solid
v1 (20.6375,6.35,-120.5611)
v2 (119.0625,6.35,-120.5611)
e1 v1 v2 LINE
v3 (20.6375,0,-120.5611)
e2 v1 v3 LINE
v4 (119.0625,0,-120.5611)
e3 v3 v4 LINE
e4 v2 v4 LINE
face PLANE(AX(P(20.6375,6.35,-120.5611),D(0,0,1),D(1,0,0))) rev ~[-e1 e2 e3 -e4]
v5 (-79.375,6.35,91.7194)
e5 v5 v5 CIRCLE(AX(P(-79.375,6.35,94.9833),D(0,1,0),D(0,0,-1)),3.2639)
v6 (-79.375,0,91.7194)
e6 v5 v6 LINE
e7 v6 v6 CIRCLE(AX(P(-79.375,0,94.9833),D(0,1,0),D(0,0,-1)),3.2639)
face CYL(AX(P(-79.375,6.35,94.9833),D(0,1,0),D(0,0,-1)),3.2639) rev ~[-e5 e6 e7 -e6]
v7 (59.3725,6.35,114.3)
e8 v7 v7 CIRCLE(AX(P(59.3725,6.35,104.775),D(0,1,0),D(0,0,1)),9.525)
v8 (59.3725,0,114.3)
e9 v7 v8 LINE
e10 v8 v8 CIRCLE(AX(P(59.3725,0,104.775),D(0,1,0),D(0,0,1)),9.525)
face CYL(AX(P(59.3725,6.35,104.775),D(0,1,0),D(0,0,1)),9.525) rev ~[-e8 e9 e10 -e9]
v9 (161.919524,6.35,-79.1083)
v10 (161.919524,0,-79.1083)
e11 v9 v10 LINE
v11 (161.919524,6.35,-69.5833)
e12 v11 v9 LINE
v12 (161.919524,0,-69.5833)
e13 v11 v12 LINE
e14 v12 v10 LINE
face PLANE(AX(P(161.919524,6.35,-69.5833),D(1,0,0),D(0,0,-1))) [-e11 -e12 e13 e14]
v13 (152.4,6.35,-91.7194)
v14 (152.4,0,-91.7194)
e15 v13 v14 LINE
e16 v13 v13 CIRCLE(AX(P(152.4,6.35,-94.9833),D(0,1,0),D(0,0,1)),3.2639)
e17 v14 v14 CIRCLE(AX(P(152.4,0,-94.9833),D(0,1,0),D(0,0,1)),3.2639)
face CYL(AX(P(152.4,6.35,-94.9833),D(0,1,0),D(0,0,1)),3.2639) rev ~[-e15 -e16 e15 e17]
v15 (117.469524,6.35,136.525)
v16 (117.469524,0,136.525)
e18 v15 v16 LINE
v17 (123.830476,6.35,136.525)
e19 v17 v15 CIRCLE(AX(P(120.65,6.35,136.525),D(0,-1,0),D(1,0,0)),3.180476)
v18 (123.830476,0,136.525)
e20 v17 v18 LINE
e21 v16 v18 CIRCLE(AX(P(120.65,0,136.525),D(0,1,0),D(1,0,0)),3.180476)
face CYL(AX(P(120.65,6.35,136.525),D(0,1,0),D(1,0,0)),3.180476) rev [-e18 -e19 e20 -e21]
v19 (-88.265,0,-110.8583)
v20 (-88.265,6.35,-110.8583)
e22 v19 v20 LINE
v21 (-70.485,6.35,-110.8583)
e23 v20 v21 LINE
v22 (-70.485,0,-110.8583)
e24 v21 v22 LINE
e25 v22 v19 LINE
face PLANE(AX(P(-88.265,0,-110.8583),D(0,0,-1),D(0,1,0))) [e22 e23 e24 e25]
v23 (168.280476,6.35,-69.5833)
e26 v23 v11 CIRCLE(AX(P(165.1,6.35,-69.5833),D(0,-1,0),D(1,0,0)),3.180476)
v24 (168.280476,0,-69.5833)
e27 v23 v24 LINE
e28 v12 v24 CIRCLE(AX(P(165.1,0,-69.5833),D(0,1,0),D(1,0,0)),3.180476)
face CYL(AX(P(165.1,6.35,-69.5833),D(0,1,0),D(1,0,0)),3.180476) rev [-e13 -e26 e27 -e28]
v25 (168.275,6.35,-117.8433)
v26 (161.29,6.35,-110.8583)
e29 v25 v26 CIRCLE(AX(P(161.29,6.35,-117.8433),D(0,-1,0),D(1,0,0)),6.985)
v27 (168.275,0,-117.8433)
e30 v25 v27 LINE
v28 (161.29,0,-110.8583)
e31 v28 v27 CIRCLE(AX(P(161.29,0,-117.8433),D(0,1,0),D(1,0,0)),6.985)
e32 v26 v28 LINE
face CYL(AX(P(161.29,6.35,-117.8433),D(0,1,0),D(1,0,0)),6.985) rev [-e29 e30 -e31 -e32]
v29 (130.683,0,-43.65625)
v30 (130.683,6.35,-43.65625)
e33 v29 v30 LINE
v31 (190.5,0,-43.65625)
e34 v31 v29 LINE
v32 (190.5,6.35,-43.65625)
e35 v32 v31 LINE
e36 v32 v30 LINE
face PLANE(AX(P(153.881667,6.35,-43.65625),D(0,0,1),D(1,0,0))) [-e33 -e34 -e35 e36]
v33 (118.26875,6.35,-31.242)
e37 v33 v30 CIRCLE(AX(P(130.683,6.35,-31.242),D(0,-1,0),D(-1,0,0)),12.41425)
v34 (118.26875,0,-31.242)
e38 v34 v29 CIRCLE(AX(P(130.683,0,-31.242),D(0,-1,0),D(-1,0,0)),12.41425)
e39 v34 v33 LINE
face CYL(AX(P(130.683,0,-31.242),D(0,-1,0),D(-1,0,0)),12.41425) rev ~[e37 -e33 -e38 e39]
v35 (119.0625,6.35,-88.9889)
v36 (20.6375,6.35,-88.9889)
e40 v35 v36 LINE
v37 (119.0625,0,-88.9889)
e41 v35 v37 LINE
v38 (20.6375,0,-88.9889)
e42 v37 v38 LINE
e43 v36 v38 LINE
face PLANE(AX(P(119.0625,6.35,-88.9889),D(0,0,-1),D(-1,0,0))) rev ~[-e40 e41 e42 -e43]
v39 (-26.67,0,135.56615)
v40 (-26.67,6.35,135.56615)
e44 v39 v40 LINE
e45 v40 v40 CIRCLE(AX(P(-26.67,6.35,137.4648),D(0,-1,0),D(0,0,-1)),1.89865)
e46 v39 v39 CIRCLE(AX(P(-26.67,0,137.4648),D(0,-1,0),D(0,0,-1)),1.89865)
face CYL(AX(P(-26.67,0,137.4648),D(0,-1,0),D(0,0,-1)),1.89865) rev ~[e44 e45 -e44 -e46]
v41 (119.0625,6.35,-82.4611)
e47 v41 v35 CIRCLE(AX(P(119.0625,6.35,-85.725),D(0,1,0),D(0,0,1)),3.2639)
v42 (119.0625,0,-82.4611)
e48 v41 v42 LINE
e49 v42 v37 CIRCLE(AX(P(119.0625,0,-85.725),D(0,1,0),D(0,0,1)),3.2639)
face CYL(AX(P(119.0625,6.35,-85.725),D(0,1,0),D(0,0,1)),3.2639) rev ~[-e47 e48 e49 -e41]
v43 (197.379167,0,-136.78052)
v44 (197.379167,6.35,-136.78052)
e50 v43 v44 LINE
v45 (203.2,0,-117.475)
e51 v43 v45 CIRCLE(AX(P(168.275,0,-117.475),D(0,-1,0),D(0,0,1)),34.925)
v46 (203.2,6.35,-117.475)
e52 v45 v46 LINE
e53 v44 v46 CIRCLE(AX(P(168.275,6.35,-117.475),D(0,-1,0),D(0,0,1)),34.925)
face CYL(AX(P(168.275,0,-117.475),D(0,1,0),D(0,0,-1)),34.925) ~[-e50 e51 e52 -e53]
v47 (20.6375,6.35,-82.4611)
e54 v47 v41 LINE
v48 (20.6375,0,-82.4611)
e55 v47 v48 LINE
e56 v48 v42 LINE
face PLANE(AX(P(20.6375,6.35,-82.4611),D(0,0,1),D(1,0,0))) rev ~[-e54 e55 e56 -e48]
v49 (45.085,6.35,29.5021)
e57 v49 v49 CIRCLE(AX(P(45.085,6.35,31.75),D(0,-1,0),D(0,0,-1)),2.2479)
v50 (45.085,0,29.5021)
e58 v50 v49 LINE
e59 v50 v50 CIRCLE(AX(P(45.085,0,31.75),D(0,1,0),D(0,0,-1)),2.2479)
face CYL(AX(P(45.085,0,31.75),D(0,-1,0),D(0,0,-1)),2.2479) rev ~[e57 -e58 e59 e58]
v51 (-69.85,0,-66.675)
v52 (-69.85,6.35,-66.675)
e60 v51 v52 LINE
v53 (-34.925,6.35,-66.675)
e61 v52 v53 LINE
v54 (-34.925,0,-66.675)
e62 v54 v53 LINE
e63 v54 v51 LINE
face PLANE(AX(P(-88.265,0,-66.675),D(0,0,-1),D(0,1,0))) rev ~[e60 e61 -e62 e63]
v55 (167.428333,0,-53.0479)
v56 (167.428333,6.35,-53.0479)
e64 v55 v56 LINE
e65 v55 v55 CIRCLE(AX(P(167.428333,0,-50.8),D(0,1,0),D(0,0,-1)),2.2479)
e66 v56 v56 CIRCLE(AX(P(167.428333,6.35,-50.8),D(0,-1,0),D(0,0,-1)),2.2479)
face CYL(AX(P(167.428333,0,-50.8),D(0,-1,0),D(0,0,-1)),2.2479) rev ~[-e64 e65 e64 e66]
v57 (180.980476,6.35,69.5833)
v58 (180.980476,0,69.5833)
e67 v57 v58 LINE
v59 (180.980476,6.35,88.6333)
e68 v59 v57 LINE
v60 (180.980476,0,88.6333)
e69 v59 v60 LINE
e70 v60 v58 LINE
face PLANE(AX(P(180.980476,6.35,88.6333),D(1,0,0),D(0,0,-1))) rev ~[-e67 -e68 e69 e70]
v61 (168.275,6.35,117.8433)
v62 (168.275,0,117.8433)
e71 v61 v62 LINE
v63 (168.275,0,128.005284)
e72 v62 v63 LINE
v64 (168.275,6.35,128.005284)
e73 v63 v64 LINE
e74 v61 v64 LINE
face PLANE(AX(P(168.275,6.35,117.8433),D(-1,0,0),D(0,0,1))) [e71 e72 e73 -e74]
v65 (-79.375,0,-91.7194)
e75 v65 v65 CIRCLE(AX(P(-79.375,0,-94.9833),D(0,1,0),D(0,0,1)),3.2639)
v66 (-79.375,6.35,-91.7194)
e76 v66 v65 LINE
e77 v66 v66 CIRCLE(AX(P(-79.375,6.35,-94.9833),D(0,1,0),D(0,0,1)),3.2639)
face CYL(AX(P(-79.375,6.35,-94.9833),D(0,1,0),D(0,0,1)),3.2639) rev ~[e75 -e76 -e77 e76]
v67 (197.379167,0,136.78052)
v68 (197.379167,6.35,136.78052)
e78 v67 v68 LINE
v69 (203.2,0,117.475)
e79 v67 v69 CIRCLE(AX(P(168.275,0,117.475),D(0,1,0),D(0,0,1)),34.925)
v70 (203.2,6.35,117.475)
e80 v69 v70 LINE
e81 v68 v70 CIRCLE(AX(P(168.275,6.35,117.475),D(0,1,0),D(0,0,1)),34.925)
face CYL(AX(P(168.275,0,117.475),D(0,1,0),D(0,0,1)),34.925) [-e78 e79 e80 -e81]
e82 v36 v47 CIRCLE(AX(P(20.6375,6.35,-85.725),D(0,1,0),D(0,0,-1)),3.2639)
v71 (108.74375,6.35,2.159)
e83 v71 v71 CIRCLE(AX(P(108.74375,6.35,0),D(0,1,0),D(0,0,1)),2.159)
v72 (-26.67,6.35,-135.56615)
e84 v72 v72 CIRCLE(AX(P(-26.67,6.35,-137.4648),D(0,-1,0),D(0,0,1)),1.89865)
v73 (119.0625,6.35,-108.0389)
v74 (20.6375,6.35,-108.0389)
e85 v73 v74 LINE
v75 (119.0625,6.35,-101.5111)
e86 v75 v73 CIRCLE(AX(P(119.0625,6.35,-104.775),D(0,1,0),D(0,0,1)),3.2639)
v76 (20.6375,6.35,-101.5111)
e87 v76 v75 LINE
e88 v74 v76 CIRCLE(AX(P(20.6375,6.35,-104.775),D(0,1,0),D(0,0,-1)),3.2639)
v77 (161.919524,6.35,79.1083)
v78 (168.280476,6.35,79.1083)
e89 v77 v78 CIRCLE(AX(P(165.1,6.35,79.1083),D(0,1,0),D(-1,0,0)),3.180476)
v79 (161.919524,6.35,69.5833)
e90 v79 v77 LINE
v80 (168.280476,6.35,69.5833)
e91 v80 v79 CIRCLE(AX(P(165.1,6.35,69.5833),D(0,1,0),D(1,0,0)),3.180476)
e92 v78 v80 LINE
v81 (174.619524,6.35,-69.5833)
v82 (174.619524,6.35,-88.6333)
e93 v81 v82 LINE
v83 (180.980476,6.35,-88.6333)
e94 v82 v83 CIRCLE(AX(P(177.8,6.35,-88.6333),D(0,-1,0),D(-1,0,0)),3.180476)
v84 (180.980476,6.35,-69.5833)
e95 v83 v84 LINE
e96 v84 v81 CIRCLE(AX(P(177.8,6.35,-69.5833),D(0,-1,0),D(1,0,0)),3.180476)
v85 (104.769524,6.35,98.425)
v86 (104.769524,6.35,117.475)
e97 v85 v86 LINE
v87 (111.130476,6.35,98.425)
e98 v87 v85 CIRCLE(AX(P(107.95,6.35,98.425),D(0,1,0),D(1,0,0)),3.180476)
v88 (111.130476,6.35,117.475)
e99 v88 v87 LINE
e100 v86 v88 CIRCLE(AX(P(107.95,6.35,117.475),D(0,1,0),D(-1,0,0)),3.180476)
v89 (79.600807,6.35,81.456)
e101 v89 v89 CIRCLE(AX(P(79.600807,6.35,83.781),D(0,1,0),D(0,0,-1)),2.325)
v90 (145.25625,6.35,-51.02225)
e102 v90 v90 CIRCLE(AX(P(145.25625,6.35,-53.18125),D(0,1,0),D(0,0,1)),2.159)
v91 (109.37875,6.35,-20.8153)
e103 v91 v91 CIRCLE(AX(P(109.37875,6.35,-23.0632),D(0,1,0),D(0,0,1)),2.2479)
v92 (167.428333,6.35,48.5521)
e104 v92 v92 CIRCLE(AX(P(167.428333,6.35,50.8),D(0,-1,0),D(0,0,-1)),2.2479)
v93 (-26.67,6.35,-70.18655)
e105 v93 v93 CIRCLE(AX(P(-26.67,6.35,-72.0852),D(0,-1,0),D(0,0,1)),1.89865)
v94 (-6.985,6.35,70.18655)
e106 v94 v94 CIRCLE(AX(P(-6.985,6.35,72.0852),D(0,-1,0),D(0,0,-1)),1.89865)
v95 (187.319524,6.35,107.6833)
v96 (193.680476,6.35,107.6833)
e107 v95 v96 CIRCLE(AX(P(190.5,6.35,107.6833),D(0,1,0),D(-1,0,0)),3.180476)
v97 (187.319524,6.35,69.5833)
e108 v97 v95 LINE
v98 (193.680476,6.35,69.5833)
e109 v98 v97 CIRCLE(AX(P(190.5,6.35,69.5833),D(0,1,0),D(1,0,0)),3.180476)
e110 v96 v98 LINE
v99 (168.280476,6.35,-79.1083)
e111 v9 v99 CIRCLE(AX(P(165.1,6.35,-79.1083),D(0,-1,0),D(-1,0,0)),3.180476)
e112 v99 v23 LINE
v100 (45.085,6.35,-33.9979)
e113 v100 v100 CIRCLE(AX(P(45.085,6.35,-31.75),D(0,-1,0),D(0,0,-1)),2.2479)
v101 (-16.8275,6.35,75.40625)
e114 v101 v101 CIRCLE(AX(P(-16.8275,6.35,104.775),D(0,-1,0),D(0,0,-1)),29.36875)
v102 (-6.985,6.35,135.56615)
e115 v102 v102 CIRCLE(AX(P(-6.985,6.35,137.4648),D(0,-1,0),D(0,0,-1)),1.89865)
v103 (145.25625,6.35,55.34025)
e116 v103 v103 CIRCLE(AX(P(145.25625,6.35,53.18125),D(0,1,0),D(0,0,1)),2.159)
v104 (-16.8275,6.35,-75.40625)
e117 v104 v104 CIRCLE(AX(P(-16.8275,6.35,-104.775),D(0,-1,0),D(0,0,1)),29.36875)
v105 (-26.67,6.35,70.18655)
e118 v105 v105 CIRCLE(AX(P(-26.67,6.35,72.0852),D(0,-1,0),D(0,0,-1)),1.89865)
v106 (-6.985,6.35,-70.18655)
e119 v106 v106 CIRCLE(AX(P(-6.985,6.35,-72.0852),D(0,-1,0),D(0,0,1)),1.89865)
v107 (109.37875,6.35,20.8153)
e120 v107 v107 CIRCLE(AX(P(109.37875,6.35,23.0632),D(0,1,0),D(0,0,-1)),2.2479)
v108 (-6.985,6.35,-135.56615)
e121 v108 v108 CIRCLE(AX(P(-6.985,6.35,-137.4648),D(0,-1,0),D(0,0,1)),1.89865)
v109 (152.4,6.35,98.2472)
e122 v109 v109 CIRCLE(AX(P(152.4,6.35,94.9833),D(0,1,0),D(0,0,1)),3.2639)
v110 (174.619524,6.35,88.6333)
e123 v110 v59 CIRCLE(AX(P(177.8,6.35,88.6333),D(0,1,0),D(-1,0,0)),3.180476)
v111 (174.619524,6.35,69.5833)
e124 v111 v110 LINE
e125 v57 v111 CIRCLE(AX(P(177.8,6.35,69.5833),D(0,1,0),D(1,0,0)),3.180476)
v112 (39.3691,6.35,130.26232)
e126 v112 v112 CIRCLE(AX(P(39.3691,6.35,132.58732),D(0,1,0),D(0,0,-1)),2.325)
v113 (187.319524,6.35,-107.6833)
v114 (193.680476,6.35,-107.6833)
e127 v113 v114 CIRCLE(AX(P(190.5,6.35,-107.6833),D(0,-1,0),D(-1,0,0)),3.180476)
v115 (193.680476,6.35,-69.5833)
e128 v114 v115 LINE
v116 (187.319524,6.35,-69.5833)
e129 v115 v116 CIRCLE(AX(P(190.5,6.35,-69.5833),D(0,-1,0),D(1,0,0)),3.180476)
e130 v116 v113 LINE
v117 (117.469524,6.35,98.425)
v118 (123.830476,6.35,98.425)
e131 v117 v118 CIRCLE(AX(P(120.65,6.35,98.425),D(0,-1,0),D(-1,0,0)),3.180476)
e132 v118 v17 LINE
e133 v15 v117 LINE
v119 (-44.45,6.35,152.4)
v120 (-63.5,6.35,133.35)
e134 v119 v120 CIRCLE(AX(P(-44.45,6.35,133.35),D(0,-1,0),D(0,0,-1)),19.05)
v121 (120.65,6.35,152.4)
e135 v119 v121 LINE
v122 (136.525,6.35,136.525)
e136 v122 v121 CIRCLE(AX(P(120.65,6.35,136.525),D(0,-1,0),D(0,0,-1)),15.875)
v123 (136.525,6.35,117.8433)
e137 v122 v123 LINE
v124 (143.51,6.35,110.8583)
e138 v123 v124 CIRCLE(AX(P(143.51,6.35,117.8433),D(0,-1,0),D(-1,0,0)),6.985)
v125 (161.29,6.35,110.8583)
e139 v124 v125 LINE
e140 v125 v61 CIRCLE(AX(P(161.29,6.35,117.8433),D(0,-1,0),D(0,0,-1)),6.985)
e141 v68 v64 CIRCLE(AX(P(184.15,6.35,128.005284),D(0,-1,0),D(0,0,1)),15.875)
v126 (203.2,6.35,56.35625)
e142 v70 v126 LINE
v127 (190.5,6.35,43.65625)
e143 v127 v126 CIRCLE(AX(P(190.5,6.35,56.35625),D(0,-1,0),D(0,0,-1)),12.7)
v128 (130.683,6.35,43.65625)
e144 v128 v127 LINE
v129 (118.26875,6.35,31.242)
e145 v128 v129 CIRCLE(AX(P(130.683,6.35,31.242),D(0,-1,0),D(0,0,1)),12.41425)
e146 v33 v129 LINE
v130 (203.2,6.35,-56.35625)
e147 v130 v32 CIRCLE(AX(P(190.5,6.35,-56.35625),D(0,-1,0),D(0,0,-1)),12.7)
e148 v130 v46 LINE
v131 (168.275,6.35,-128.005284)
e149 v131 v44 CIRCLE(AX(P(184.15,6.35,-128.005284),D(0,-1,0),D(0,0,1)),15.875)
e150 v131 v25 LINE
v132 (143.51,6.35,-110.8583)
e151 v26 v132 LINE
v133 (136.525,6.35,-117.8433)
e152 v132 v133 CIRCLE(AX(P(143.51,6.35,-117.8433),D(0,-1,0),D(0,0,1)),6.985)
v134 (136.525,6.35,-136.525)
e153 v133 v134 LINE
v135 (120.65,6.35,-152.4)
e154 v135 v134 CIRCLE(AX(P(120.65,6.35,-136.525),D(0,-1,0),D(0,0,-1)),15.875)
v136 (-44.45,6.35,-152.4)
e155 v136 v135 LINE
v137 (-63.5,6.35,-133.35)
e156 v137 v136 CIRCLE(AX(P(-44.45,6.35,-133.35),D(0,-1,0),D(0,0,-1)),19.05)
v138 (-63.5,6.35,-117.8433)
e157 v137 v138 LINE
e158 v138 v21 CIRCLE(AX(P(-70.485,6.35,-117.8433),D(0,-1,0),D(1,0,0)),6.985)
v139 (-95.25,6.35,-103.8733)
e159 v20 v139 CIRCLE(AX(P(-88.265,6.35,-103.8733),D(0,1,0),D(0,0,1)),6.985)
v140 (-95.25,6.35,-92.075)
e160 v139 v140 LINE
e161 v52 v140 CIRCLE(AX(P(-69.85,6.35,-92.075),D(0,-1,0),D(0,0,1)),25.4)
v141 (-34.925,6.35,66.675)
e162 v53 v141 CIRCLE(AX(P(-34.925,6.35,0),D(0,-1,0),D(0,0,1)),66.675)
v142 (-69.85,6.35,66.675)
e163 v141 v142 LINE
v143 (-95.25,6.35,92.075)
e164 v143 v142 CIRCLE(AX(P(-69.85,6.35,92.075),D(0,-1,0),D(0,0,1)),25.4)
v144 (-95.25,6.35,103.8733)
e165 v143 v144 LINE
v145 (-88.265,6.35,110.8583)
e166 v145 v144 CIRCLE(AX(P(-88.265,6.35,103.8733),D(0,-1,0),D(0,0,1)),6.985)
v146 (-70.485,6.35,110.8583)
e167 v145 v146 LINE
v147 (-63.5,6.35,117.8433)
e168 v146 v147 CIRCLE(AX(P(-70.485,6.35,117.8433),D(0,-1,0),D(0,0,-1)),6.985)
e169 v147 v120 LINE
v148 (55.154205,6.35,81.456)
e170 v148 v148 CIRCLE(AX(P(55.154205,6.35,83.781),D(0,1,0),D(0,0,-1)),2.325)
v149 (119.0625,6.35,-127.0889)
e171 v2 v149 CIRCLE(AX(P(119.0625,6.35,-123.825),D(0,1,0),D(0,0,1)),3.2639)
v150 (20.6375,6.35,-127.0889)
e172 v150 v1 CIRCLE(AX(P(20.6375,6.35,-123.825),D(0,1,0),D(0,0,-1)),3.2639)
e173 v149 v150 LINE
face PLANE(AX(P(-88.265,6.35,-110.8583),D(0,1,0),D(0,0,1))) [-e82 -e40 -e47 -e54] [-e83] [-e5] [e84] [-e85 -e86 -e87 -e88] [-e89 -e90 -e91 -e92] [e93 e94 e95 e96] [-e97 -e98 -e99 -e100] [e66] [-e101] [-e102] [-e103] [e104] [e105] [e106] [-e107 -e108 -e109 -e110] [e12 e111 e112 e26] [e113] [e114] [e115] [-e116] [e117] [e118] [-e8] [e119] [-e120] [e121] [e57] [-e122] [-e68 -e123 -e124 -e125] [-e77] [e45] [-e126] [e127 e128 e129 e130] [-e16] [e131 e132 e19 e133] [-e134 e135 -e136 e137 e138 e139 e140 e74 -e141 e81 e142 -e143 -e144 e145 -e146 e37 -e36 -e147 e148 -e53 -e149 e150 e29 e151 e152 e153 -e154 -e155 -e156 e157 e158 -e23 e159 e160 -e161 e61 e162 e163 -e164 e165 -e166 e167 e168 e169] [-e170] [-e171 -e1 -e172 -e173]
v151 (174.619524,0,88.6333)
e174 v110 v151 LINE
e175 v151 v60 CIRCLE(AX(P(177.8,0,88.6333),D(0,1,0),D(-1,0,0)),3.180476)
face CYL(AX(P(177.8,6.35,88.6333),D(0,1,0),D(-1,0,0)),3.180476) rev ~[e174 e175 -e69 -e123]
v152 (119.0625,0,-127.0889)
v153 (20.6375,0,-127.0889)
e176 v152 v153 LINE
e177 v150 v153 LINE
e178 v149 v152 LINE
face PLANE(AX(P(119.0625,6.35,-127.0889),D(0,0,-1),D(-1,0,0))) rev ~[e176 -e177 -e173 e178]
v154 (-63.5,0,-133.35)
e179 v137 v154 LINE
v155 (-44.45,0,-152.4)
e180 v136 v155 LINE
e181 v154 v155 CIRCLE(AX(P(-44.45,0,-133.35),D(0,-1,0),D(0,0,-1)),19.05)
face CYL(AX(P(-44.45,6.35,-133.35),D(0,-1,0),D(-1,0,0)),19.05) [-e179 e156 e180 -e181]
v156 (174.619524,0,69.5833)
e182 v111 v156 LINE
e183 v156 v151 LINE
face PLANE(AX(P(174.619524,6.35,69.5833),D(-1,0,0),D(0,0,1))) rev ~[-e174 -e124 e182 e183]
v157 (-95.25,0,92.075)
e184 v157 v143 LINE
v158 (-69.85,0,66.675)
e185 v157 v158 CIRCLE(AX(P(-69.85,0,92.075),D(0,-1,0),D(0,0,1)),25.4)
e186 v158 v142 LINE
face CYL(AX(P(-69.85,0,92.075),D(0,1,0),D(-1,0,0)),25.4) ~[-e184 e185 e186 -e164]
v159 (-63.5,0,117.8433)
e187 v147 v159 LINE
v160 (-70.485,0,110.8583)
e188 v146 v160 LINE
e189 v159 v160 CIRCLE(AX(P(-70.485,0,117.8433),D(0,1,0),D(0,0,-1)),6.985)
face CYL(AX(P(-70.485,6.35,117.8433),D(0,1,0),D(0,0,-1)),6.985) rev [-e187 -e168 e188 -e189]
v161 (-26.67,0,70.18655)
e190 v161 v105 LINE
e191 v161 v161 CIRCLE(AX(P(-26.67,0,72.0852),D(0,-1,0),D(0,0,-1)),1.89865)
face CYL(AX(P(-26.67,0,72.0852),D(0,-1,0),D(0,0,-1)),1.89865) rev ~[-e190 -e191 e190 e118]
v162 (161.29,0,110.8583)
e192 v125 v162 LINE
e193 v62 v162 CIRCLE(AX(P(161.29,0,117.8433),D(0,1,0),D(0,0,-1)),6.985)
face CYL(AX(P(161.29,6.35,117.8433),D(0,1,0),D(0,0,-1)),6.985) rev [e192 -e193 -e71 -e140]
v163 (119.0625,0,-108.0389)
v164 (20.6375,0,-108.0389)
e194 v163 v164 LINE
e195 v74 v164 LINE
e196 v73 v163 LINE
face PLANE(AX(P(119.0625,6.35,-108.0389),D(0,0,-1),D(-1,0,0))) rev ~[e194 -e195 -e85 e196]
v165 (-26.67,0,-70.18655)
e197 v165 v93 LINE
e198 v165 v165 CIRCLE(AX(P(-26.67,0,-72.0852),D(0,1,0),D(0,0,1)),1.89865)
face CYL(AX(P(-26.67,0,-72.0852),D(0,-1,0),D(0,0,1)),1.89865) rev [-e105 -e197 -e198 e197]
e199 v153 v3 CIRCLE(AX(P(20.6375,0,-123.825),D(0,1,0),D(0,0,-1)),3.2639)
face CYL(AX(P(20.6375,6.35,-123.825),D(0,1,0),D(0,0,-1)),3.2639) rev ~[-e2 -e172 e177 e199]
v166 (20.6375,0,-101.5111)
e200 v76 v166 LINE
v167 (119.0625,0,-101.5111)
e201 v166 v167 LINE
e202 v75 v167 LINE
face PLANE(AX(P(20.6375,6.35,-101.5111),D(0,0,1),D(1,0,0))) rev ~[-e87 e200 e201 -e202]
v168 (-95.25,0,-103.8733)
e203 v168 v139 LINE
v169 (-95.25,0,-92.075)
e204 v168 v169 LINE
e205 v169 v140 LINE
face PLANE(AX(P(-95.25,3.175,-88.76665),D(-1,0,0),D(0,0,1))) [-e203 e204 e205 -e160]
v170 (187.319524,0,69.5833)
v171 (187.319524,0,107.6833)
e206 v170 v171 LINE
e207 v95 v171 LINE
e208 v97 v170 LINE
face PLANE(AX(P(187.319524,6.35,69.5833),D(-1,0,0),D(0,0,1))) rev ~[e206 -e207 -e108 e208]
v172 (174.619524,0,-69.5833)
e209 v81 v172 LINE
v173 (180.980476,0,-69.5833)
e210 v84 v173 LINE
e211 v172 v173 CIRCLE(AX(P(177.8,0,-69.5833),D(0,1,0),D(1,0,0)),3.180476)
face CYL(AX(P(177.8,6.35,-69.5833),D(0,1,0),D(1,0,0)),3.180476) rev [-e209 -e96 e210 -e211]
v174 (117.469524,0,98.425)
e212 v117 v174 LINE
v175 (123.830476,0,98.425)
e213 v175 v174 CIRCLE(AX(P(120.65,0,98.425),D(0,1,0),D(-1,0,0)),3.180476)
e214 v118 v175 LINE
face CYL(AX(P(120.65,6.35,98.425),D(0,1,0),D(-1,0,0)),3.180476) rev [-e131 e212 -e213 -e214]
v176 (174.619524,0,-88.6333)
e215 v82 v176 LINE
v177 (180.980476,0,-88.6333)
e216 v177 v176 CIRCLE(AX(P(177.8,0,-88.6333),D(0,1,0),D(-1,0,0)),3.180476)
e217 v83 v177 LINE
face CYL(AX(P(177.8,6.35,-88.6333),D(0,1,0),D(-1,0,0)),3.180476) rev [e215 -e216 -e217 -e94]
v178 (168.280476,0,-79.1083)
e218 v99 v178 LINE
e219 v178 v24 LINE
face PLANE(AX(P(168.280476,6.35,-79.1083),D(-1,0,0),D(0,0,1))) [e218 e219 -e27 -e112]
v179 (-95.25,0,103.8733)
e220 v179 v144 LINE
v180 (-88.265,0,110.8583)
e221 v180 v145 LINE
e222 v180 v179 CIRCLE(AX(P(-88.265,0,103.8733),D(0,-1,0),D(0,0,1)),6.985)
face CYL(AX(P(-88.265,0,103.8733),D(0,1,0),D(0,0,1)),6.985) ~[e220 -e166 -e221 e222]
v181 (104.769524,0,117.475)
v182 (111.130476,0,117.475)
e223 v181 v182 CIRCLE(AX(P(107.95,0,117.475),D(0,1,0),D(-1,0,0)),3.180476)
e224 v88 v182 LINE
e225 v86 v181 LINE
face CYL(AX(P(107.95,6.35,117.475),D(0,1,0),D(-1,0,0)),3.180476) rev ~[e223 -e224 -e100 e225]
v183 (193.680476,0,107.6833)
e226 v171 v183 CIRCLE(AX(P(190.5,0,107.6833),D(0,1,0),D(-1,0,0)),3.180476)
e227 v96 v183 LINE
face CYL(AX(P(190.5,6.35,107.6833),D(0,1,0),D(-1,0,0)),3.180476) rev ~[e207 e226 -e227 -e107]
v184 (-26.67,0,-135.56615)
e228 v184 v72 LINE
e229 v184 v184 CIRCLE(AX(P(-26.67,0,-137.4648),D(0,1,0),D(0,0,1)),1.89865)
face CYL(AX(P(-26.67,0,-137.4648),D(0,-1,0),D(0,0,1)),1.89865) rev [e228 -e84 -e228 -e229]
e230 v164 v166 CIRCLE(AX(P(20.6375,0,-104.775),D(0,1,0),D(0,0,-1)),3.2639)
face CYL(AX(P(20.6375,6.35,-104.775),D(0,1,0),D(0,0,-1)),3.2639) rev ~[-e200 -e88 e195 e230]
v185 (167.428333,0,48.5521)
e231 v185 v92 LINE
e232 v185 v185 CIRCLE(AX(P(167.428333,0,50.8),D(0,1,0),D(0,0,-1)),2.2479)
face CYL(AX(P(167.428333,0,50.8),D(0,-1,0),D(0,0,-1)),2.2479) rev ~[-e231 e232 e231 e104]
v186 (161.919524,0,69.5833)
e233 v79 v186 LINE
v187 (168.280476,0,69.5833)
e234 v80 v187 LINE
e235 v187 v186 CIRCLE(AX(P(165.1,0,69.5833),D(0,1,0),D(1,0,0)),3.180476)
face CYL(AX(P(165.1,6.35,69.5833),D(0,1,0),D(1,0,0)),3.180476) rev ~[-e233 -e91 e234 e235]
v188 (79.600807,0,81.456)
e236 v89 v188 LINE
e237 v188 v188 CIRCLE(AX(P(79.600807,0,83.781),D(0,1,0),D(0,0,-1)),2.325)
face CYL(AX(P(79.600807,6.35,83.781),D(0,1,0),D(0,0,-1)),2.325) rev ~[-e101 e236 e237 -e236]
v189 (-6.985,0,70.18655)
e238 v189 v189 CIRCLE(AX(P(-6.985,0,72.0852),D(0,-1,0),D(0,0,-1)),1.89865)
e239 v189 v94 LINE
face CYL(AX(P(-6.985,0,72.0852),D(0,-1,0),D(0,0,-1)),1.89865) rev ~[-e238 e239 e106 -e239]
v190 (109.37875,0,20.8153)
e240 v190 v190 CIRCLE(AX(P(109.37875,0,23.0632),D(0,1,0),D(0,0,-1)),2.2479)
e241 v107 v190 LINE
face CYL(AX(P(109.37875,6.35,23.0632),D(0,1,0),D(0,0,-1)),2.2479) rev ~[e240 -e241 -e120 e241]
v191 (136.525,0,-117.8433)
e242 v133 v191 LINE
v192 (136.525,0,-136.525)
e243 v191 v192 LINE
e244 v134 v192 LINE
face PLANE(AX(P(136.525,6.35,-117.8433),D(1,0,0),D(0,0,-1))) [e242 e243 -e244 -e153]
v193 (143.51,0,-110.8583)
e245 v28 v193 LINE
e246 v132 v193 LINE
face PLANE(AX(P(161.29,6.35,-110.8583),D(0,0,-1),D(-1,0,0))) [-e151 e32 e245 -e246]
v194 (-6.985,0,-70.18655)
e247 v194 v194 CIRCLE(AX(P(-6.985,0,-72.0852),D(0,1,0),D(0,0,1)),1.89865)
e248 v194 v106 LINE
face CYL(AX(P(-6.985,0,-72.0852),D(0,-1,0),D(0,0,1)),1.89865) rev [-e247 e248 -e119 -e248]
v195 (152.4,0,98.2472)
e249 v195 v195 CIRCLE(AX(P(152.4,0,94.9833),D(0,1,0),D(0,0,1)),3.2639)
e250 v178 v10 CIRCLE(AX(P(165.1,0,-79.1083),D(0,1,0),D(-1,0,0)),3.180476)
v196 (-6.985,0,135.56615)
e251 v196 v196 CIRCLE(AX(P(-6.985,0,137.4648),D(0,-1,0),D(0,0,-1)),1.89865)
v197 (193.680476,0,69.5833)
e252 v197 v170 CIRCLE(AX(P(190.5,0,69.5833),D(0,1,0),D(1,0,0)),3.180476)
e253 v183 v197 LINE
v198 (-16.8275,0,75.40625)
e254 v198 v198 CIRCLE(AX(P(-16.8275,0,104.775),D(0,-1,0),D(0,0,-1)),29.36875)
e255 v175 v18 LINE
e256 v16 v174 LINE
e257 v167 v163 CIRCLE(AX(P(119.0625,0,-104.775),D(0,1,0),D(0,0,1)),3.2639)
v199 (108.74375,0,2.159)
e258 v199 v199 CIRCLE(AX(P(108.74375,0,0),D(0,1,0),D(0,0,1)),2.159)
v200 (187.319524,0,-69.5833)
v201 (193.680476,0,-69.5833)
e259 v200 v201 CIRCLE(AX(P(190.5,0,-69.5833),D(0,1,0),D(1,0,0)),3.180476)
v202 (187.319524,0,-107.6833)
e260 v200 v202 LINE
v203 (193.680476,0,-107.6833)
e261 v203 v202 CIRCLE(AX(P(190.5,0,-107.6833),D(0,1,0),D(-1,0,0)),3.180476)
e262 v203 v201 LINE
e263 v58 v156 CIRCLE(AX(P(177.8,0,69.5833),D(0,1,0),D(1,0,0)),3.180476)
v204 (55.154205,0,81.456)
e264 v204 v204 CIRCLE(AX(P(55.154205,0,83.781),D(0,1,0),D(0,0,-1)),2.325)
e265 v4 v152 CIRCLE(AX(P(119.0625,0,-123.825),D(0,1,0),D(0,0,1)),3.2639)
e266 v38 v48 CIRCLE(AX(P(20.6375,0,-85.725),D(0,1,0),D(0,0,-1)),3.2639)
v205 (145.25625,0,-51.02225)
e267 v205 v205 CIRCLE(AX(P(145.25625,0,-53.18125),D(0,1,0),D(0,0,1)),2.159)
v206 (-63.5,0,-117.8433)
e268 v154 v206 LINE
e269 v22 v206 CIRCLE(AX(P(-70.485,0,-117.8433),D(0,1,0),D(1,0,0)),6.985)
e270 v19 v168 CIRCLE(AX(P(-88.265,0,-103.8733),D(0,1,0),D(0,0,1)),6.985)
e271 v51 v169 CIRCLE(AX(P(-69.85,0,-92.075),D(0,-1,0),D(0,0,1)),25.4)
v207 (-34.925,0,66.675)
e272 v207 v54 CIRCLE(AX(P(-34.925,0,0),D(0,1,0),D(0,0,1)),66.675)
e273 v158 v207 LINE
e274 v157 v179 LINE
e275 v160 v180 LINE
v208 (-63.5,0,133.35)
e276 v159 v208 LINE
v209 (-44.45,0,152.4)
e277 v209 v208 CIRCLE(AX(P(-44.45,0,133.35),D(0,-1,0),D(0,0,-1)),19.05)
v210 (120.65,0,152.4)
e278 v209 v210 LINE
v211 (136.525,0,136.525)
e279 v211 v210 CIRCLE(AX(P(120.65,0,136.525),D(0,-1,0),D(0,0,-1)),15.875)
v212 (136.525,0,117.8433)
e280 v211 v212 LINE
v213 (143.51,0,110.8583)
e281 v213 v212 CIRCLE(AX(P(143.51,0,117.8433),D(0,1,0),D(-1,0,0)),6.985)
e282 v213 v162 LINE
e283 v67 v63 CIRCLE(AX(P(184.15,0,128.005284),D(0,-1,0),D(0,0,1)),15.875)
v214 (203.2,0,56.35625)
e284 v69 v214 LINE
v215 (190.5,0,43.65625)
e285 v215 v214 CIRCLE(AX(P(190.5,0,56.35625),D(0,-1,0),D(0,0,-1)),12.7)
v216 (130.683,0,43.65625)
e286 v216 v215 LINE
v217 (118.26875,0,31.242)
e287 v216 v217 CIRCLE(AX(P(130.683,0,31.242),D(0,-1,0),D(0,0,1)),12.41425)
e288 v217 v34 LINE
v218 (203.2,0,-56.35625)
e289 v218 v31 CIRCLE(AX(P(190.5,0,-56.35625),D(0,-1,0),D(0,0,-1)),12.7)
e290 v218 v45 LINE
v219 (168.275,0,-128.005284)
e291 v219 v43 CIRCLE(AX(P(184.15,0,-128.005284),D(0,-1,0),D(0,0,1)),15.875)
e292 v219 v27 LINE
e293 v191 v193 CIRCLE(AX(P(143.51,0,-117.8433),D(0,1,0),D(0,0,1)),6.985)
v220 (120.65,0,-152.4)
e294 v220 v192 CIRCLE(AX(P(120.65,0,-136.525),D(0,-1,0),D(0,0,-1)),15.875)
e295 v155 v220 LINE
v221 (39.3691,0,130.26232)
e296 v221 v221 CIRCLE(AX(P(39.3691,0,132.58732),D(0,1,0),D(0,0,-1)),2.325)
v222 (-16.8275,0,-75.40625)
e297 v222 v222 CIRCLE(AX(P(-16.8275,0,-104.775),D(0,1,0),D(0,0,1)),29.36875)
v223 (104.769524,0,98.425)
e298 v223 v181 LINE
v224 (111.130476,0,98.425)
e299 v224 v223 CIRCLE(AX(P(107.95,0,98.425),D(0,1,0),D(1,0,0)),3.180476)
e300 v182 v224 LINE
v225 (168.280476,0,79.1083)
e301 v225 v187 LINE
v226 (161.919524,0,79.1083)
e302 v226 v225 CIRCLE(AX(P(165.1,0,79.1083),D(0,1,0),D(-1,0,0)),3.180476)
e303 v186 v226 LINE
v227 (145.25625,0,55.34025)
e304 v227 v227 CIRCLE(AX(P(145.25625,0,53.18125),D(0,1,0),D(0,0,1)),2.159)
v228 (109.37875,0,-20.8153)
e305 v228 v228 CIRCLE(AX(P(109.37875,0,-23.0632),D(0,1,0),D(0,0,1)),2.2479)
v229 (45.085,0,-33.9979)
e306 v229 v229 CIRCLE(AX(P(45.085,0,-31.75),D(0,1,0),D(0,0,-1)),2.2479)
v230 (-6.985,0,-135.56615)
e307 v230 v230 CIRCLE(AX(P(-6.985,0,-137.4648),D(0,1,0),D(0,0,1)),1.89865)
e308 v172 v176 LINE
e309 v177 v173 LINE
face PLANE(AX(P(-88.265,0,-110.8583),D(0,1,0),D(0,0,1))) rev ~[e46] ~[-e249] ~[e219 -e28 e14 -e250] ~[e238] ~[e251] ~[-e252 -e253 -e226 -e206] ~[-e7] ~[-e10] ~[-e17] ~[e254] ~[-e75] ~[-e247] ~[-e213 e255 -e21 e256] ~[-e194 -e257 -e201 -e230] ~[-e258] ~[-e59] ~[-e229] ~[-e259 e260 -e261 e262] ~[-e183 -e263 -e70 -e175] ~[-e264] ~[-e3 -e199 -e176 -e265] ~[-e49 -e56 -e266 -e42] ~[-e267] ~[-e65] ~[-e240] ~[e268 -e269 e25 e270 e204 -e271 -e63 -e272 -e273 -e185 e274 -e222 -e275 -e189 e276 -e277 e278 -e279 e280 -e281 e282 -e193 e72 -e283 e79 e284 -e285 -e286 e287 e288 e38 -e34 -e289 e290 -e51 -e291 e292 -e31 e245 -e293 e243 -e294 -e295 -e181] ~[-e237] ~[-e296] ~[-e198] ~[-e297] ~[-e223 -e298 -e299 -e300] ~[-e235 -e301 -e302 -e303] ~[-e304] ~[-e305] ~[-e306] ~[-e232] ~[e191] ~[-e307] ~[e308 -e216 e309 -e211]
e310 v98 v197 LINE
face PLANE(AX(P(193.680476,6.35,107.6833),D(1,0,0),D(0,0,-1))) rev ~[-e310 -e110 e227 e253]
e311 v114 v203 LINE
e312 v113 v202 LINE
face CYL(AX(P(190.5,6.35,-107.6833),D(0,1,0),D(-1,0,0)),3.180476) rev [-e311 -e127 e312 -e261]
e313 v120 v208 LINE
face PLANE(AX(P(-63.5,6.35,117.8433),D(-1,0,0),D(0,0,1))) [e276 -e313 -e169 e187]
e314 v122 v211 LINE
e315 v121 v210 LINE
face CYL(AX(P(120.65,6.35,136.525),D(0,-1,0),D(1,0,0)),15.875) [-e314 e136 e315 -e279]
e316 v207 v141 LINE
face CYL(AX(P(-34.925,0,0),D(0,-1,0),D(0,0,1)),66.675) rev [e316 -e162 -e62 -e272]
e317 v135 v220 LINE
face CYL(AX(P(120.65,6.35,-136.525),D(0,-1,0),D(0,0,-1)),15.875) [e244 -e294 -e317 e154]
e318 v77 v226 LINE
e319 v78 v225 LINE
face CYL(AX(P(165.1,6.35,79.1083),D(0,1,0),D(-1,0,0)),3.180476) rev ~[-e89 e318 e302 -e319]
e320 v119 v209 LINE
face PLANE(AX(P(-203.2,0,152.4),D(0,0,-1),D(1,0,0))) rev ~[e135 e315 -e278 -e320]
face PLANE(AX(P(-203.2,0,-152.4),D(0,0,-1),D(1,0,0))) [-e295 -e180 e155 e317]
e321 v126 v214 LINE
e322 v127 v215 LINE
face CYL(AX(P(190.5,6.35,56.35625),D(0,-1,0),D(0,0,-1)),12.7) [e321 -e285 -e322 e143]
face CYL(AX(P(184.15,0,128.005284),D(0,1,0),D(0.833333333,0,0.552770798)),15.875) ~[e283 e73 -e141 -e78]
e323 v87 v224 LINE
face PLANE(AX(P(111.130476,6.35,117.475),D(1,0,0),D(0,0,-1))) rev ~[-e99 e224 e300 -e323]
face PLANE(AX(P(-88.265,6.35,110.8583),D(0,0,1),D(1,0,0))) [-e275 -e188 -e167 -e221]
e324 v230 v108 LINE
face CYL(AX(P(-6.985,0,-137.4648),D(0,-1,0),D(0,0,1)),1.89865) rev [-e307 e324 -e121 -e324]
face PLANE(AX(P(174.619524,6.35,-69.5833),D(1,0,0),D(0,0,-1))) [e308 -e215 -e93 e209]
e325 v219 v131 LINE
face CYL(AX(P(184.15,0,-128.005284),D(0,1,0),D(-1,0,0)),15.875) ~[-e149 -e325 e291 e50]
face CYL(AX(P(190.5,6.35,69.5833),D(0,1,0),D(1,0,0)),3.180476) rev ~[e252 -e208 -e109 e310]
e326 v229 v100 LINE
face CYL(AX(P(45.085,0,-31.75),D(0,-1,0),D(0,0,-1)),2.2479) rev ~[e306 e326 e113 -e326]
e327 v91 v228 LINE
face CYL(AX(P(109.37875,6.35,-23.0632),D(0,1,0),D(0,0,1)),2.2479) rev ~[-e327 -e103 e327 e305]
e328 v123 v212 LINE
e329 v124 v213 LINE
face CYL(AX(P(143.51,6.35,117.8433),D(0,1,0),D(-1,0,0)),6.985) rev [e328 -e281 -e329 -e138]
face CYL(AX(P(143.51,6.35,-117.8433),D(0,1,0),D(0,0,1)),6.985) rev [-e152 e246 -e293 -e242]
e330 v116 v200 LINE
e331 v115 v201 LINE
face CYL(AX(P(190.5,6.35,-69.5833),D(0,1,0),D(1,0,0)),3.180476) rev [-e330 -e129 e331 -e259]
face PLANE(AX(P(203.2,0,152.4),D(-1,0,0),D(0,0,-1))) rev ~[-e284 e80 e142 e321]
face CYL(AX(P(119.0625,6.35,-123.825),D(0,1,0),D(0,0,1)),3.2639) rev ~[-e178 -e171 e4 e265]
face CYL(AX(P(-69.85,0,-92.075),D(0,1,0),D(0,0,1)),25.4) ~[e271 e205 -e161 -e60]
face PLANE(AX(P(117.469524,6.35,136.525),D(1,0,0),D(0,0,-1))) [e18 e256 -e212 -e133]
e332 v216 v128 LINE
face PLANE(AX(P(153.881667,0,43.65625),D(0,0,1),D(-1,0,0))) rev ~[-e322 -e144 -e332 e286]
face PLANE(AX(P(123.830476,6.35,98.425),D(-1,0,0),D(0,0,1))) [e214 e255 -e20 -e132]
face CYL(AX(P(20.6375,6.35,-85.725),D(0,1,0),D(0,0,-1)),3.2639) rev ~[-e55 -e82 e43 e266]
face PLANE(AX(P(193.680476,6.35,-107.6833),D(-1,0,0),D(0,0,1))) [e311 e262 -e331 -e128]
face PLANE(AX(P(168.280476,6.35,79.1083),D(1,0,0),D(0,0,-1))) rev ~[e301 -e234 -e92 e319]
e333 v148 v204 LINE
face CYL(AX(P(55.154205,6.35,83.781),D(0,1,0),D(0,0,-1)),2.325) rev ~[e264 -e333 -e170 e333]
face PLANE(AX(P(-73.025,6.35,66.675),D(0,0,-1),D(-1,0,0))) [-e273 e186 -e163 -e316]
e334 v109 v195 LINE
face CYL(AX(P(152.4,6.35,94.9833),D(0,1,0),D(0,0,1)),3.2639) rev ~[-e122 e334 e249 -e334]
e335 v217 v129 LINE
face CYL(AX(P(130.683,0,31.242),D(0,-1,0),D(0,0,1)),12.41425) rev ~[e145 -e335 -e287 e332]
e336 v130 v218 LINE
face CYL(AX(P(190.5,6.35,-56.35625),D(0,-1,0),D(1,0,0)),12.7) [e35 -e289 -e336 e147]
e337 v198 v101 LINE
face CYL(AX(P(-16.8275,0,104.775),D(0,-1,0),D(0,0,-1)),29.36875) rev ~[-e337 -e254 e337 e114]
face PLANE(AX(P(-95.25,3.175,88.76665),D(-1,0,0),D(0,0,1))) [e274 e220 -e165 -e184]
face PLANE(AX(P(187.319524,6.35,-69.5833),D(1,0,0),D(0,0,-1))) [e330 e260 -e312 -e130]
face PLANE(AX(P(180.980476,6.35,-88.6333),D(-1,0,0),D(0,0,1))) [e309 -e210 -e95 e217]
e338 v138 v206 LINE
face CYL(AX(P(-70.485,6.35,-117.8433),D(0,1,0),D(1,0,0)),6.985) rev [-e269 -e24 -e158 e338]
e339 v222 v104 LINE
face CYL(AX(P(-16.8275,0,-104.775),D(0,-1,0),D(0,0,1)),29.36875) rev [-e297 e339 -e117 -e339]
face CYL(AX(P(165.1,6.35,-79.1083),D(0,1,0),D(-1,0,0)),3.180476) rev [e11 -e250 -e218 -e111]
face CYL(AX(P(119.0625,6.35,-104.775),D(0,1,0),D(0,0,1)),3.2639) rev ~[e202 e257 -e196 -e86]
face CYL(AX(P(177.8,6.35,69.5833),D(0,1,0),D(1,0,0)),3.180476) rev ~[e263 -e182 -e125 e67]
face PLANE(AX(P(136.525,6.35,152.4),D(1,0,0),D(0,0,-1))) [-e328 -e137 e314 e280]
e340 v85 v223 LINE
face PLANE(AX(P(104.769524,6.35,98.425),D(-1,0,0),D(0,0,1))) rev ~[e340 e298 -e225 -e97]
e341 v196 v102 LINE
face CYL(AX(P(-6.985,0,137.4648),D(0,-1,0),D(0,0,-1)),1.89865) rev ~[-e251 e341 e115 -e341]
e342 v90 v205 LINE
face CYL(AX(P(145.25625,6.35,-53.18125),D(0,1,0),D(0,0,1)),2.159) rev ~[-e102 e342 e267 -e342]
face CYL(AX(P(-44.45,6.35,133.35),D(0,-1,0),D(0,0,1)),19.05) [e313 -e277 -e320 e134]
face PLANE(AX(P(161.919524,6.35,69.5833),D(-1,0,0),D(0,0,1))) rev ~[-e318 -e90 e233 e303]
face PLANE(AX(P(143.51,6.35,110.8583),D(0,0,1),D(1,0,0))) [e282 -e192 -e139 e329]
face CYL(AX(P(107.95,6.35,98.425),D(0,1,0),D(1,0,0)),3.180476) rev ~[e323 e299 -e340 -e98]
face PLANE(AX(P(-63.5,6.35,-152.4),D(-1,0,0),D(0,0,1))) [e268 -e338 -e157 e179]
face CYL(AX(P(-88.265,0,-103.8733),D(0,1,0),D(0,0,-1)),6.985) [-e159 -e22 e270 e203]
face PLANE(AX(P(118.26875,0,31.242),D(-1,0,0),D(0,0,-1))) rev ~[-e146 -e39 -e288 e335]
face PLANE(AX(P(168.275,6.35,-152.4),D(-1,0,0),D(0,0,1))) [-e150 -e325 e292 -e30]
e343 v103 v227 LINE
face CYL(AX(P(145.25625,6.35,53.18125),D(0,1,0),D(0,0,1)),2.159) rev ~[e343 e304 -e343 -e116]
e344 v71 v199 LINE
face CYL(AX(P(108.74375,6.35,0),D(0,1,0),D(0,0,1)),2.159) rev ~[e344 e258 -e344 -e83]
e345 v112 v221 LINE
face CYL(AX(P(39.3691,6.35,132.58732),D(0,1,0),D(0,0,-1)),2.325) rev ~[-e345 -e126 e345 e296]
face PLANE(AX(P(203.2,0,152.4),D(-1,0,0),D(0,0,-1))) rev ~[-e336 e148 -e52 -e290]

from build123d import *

# Parameters (mm, degrees)
SKETCH1_W           = 406.4
SKETCH1_H           = 304.8
BOSS_EXTRUDE1_DEPTH = 6.35
SKETCH2_R           = 29.36875
SKETCH2_R_2         = 2.2479
SKETCH2_R_3         = 1.89865
CUT_EXTRUDE1_DEPTH  = 255.079362602
FILLET1_R           = 34.925
CUT_EXTRUDE2_DEPTH  = 255.079362602
FILLET3_R           = 15.875
SKETCH7_R           = 3.2639
SKETCH7_R_2         = 2.159
CUT_EXTRUDE3_DEPTH  = 255.079362602
SKETCH8_R           = 3.2639
CUT_EXTRUDE5_DEPTH  = 255.079362602
CUT_EXTRUDE6_DEPTH  = 255.079362602
SKETCH10_W          = 44.1833
SKETCH10_H          = 6.35
BOSS_EXTRUDE2_DEPTH = 6.985
FILLET4_R           = 6.985
FILLET5_R           = 19.05
FILLET6_R           = 25.4
SKETCH12_R          = 2.2479
CUT_EXTRUDE8_DEPTH  = 255.079362602
SKETCH13_R          = 9.525
SKETCH13_R_2        = 2.325
CUT_EXTRUDE9_DEPTH  = 255.079362602
SKETCH15_W          = 49.318333333
SKETCH15_H          = 87.3125
CUT_EXTRUDE10_DEPTH = 255.079362602
FILLET7_R           = 12.7
CUT_EXTRUDE11_DEPTH = 255.079362602


with BuildPart() as part:
    # Sketch1 → Boss-Extrude1 (new body)
    with BuildSketch(Plane(origin=(0, 0, 0), x_dir=(1, 0, 0), z_dir=(0, 1, 0))):
        Rectangle(SKETCH1_W, SKETCH1_H)
    extrude(amount=BOSS_EXTRUDE1_DEPTH)

    # Sketch2 → Cut-Extrude1 (cut, through all)
    with BuildSketch(Plane.XZ):
        with Locations(Location((-16.8275, 104.775, 0), (0, 0, 270))):
            Circle(SKETCH2_R)
        with Locations(Location((167.428333333, -50.8, 0), (0, 0, 270))):
            Circle(SKETCH2_R_2)
        with Locations(Location((167.428333333, 50.8, 0), (0, 0, 270))):
            Circle(SKETCH2_R_2)
        with Locations(Location((45.085, -31.75, 0), (0, 0, 270))):
            Circle(SKETCH2_R_2)
        with Locations(Location((45.085, 31.75, 0), (0, 0, 270))):
            Circle(SKETCH2_R_2)
        with Locations(Location((-26.67, 137.4648, 0), (0, 0, 270))):
            Circle(SKETCH2_R_3)
        with Locations(Location((-6.985, 137.4648, 0), (0, 0, 270))):
            Circle(SKETCH2_R_3)
        with Locations(Location((-26.67, 72.0852, 0), (0, 0, 270))):
            Circle(SKETCH2_R_3)
        with Locations(Location((-6.985, 72.0852, 0), (0, 0, 270))):
            Circle(SKETCH2_R_3)
        with BuildLine():
            Line((170.786985294, 32.497058824), (169.990122549, 33.991176471))
            ThreePointArc((169.990122549, 33.991176471), (163.274429802, 41.054605225), (153.881666667, 43.65625))
            Line((153.881666667, 43.65625), (130.683, 43.65625))
            ThreePointArc((130.683, 43.65625), (121.904799642, 40.020200358), (118.26875, 31.242))
            Line((118.26875, 31.242), (118.26875, -31.242))
            ThreePointArc((118.26875, -31.242), (121.904799642, -40.020200358), (130.683, -43.65625))
            Line((130.683, -43.65625), (153.881666667, -43.65625))
            ThreePointArc((153.881666667, -43.65625), (163.274429802, -41.054605225), (169.990122549, -33.991176471))
            Line((169.990122549, -33.991176471), (170.786985294, -32.497058824))
            ThreePointArc((170.786985294, -32.497058824), (178.91125, 0), (170.786985294, 32.497058824))
        make_face()
        with BuildLine():
            Line((-73.025, 66.675), (-34.925, 66.675))
            ThreePointArc((-34.925, 66.675), (31.75, 0), (-34.925, -66.675))
            Line((-34.925, -66.675), (-73.025, -66.675))
            ThreePointArc((-73.025, -66.675), (-139.7, 0), (-73.025, 66.675))
        make_face()
    cut_extrude1 = extrude(amount=-CUT_EXTRUDE1_DEPTH, mode=Mode.SUBTRACT)

    # Fillet1
    fillet1_edges = [part.edges().sort_by_distance(p)[0] for p in [
        (203.2, 3.175, 152.4),
        (-203.2, 3.175, 152.4),
        (-203.2, 3.175, -152.4),
        (203.2, 3.175, -152.4),
    ]]
    fillet(fillet1_edges, radius=FILLET1_R)

    # Sketch5 → Cut-Extrude2 (cut, through all)
    with BuildSketch(Plane(origin=(0, 6.35, 0), x_dir=(1, 0, 0), z_dir=(0, 1, 0))):
        with BuildLine():
            Line((136.525, 117.8433), (136.525, 152.4))
            Line((136.525, 152.4), (168.275, 152.4))
            Line((168.275, 152.4), (168.275, 117.8433))
            ThreePointArc((168.275, 117.8433), (166.229140867, 112.904159133), (161.29, 110.8583))
            Line((161.29, 110.8583), (143.51, 110.8583))
            ThreePointArc((143.51, 110.8583), (138.570859133, 112.904159133), (136.525, 117.8433))
        make_face()
        with BuildLine():
            Line((143.51, -110.8583), (161.29, -110.8583))
            ThreePointArc((161.29, -110.8583), (166.229140867, -112.904159133), (168.275, -117.8433))
            Line((168.275, -117.8433), (168.275, -152.4))
            Line((168.275, -152.4), (136.525, -152.4))
            Line((136.525, -152.4), (136.525, -117.8433))
            ThreePointArc((136.525, -117.8433), (138.570859133, -112.904159133), (143.51, -110.8583))
        make_face()
        with BuildLine():
            Line((-95.25, 152.4), (-63.5, 152.4))
            Line((-63.5, 152.4), (-63.5, 117.8433))
            ThreePointArc((-63.5, 117.8433), (-65.545859133, 112.904159133), (-70.485, 110.8583))
            Line((-70.485, 110.8583), (-88.265, 110.8583))
            ThreePointArc((-88.265, 110.8583), (-93.204140867, 112.904159133), (-95.25, 117.8433))
            Line((-95.25, 117.8433), (-95.25, 152.4))
        make_face()
        with BuildLine():
            Line((-88.265, -110.8583), (-70.485, -110.8583))
            ThreePointArc((-70.485, -110.8583), (-65.545859133, -112.904159133), (-63.5, -117.8433))
            Line((-63.5, -117.8433), (-63.5, -152.4))
            Line((-63.5, -152.4), (-95.25, -152.4))
            Line((-95.25, -152.4), (-95.25, -117.8433))
            ThreePointArc((-95.25, -117.8433), (-93.204140867, -112.904159133), (-88.265, -110.8583))
        make_face()
    extrude(amount=-CUT_EXTRUDE2_DEPTH, mode=Mode.SUBTRACT)

    # Fillet3
    fillet3_edges = [part.edges().sort_by_distance(p)[0] for p in [
        (168.275, 3.175, 152.4),
        (168.275, 3.175, -152.4),
        (-95.25, 3.175, -152.4),
        (-95.25, 3.175, 152.4),
        (136.525, 3.175, -152.4),
        (136.525, 3.175, 152.4),
    ]]
    fillet(fillet3_edges, radius=FILLET3_R)

    # Sketch7 → Cut-Extrude3 (cut, through all)
    with BuildSketch(Plane(origin=(0, 6.35, 0), x_dir=(1, 0, 0), z_dir=(0, 1, 0))):
        with Locations(Location((152.4, 94.9833, 0), (0, 0, 270))):
            Circle(SKETCH7_R)
        with Locations(Location((152.4, -94.9833, 0), (0, 0, 270))):
            Circle(SKETCH7_R)
        with Locations(Location((145.25625, 53.18125, 0), (0, 0, 270))):
            Circle(SKETCH7_R_2)
        with Locations(Location((108.74375, 0, 0), (0, 0, 270))):
            Circle(SKETCH7_R_2)
        with Locations(Location((145.25625, -53.18125, 0), (0, 0, 270))):
            Circle(SKETCH7_R_2)
        with BuildLine():
            Line((119.0625, 127.0889), (20.6375, 127.0889))
            ThreePointArc((20.6375, 127.0889), (17.3736, 123.825), (20.6375, 120.5611))
            Line((20.6375, 120.5611), (119.0625, 120.5611))
            ThreePointArc((119.0625, 120.5611), (122.3264, 123.825), (119.0625, 127.0889))
        make_face()
        with BuildLine():
            Line((119.0625, 88.9889), (20.6375, 88.9889))
            ThreePointArc((20.6375, 88.9889), (17.3736, 85.725), (20.6375, 82.4611))
            Line((20.6375, 82.4611), (119.0625, 82.4611))
            ThreePointArc((119.0625, 82.4611), (122.3264, 85.725), (119.0625, 88.9889))
        make_face()
        with BuildLine():
            Line((119.0625, 108.0389), (20.6375, 108.0389))
            ThreePointArc((20.6375, 108.0389), (17.3736, 104.775), (20.6375, 101.5111))
            Line((20.6375, 101.5111), (119.0625, 101.5111))
            ThreePointArc((119.0625, 101.5111), (122.3264, 104.775), (119.0625, 108.0389))
        make_face()
        with BuildLine():
            Line((193.680475862, 107.6833), (193.680475862, 69.5833))
            ThreePointArc((193.680475862, 69.5833), (190.5, 66.402824138), (187.319524138, 69.5833))
            Line((187.319524138, 69.5833), (187.319524138, 107.6833))
            ThreePointArc((187.319524138, 107.6833), (190.5, 110.863775862), (193.680475862, 107.6833))
        make_face()
        with BuildLine():
            Line((174.619524138, 69.5833), (174.619524138, 88.6333))
            ThreePointArc((174.619524138, 88.6333), (177.8, 91.813775862), (180.980475862, 88.6333))
            Line((180.980475862, 88.6333), (180.980475862, 69.5833))
            ThreePointArc((180.980475862, 69.5833), (177.8, 66.402824138), (174.619524138, 69.5833))
        make_face()
        with BuildLine():
            Line((168.280475862, 79.1083), (168.280475862, 69.5833))
            ThreePointArc((168.280475862, 69.5833), (165.1, 66.402824138), (161.919524138, 69.5833))
            Line((161.919524138, 69.5833), (161.919524138, 79.1083))
            ThreePointArc((161.919524138, 79.1083), (165.1, 82.288775862), (168.280475862, 79.1083))
        make_face()
        with BuildLine():
            Line((193.680475862, -107.6833), (193.680475862, -69.5833))
            ThreePointArc((193.680475862, -69.5833), (190.5, -66.402824138), (187.319524138, -69.5833))
            Line((187.319524138, -69.5833), (187.319524138, -107.6833))
            ThreePointArc((187.319524138, -107.6833), (190.5, -110.863775862), (193.680475862, -107.6833))
        make_face()
        with BuildLine():
            Line((174.619524138, -69.5833), (174.619524138, -88.6333))
            ThreePointArc((174.619524138, -88.6333), (177.8, -91.813775862), (180.980475862, -88.6333))
            Line((180.980475862, -88.6333), (180.980475862, -69.5833))
            ThreePointArc((180.980475862, -69.5833), (177.8, -66.402824138), (174.619524138, -69.5833))
        make_face()
        with BuildLine():
            Line((168.280475862, -79.1083), (168.280475862, -69.5833))
            ThreePointArc((168.280475862, -69.5833), (165.1, -66.402824138), (161.919524138, -69.5833))
            Line((161.919524138, -69.5833), (161.919524138, -79.1083))
            ThreePointArc((161.919524138, -79.1083), (165.1, -82.288775862), (168.280475862, -79.1083))
        make_face()
    extrude(amount=-CUT_EXTRUDE3_DEPTH, mode=Mode.SUBTRACT)

    # Sketch8 → Cut-Extrude5 (cut, through all)
    with BuildSketch(Plane(origin=(0, 6.35, 0), x_dir=(1, 0, 0), z_dir=(0, 1, 0))):
        with Locations(Location((-79.375, 94.9833, 0), (0, 0, 270))):
            Circle(SKETCH8_R)
        with Locations(Location((-79.375, -94.9833, 0), (0, 0, 90))):
            Circle(SKETCH8_R)
        with BuildLine():
            Line((-95.25, 136.525), (-95.25, 117.8433))
            ThreePointArc((-95.25, 117.8433), (-93.204140867, 112.904159133), (-88.265, 110.8583))
            ThreePointArc((-88.265, 110.8583), (-110.35665, 88.76665), (-88.265, 66.675))
            Line((-88.265, 66.675), (-73.025, 66.675))
            ThreePointArc((-73.025, 66.675), (-139.7, 0), (-73.025, -66.675))
            Line((-73.025, -66.675), (-88.265, -66.675))
            ThreePointArc((-88.265, -66.675), (-110.35665, -88.76665), (-88.265, -110.8583))
            ThreePointArc((-88.265, -110.8583), (-93.204140867, -112.904159133), (-95.25, -117.8433))
            Line((-95.25, -117.8433), (-95.25, -136.525))
            ThreePointArc((-95.25, -136.525), (-99.899679849, -147.750320151), (-111.125, -152.4))
            Line((-111.125, -152.4), (-168.275, -152.4))
            ThreePointArc((-168.275, -152.4), (-192.970704333, -142.170704333), (-203.2, -117.475))
            Line((-203.2, -117.475), (-203.2, 117.475))
            ThreePointArc((-203.2, 117.475), (-192.970704333, 142.170704333), (-168.275, 152.4))
            Line((-168.275, 152.4), (-111.125, 152.4))
            ThreePointArc((-111.125, 152.4), (-99.899679849, 147.750320151), (-95.25, 136.525))
        make_face()
    extrude(amount=-CUT_EXTRUDE5_DEPTH, mode=Mode.SUBTRACT)

    # Sketch9 → Cut-Extrude6 (cut, through all)
    with BuildSketch(Plane(origin=(0, 6.35, 0), x_dir=(1, 0, 0), z_dir=(0, 1, 0))):
        with BuildLine():
            Line((-88.265, 110.8583), (-88.265, 66.675))
            ThreePointArc((-88.265, 66.675), (-110.35665, 88.76665), (-88.265, 110.8583))
        make_face()
        with BuildLine():
            Line((-88.265, -110.8583), (-88.265, -66.675))
            ThreePointArc((-88.265, -66.675), (-110.35665, -88.76665), (-88.265, -110.8583))
        make_face()
    extrude(amount=-CUT_EXTRUDE6_DEPTH, mode=Mode.SUBTRACT)

    # Sketch10 → Boss-Extrude2 (add)
    with BuildSketch(Plane.ZY.offset(88.265)):
        with Locations((-88.76665, 3.175)):
            Rectangle(SKETCH10_W, SKETCH10_H)
        with Locations((88.76665, 3.175)):
            Rectangle(SKETCH10_W, SKETCH10_H)
    extrude(amount=BOSS_EXTRUDE2_DEPTH)

    # Fillet4
    fillet4_edges = [part.edges().sort_by_distance(p)[0] for p in [
        (-95.25, 3.175, -110.8583),
        (-95.25, 3.175, 110.8583),
    ]]
    fillet(fillet4_edges, radius=FILLET4_R)

    # Mirror1: Cut-Extrude1 across plane
    add(cut_extrude1.mirror(Plane.XY), mode=Mode.SUBTRACT)

    # Fillet5
    fillet5_edges = [part.edges().sort_by_distance(p)[0] for p in [
        (-63.5, 3.175, -152.4),
        (-63.5, 3.175, 152.4),
    ]]
    fillet(fillet5_edges, radius=FILLET5_R)

    # Fillet6
    fillet6_edges = [part.edges().sort_by_distance(p)[0] for p in [
        (-95.25, 3.175, -66.675),
        (-95.25, 3.175, 66.675),
    ]]
    fillet(fillet6_edges, radius=FILLET6_R)

    # Sketch12 → Cut-Extrude8 (cut, through all)
    with BuildSketch(Plane(origin=(0, 6.35, 0), x_dir=(1, 0, 0), z_dir=(0, 1, 0))):
        with Locations(Location((109.37875, 23.0632, 0), (0, 0, 270))):
            Circle(SKETCH12_R)
        with Locations(Location((109.37875, -23.0632, 0), (0, 0, 90))):
            Circle(SKETCH12_R)
    extrude(amount=-CUT_EXTRUDE8_DEPTH, mode=Mode.SUBTRACT)

    # Sketch13 → Cut-Extrude9 (cut, through all)
    with BuildSketch(Plane(origin=(0, 6.35, 0), x_dir=(1, 0, 0), z_dir=(0, 1, 0))):
        with Locations(Location((59.3725, -104.775, 0), (0, 0, 270))):
            Circle(SKETCH13_R)
        with Locations(Location((39.3691, -132.587319928, 0), (0, 0, 90))):
            Circle(SKETCH13_R_2)
        with Locations(Location((55.154204875, -83.781, 0), (0, 0, 90))):
            Circle(SKETCH13_R_2)
        with Locations(Location((79.600806672, -83.781, 0), (0, 0, 90))):
            Circle(SKETCH13_R_2)
    extrude(amount=-CUT_EXTRUDE9_DEPTH, mode=Mode.SUBTRACT)

    # Sketch15 → Cut-Extrude10 (cut, through all)
    with BuildSketch(Plane(origin=(0, 6.35, 0), x_dir=(1, 0, 0), z_dir=(0, 1, 0))):
        with Locations((178.540833334, 0)):
            Rectangle(SKETCH15_W, SKETCH15_H)
    extrude(amount=-CUT_EXTRUDE10_DEPTH, mode=Mode.SUBTRACT)

    # Fillet7
    fillet7_edges = [part.edges().sort_by_distance(p)[0] for p in [
        (203.2, 3.175, -43.65625),
        (203.2, 3.175, 43.65625),
    ]]
    fillet(fillet7_edges, radius=FILLET7_R)

    # Sketch16 → Cut-Extrude11 (cut, through all)
    with BuildSketch(Plane(origin=(0, 6.35, 0), x_dir=(1, 0, 0), z_dir=(0, 1, 0))):
        with BuildLine():
            Line((104.769524138, -98.425), (104.769524138, -117.475))
            ThreePointArc((104.769524138, -117.475), (107.95, -120.655475862), (111.130475862, -117.475))
            Line((111.130475862, -117.475), (111.130475862, -98.425))
            ThreePointArc((111.130475862, -98.425), (107.95, -95.244524138), (104.769524138, -98.425))
        make_face()
        with BuildLine():
            Line((117.469524138, -136.525), (117.469524138, -98.425))
            ThreePointArc((117.469524138, -98.425), (120.65, -95.244524138), (123.830475862, -98.425))
            Line((123.830475862, -98.425), (123.830475862, -136.525))
            ThreePointArc((123.830475862, -136.525), (120.65, -139.705475862), (117.469524138, -136.525))
        make_face()
    extrude(amount=-CUT_EXTRUDE11_DEPTH, mode=Mode.SUBTRACT)


solid = part.part
